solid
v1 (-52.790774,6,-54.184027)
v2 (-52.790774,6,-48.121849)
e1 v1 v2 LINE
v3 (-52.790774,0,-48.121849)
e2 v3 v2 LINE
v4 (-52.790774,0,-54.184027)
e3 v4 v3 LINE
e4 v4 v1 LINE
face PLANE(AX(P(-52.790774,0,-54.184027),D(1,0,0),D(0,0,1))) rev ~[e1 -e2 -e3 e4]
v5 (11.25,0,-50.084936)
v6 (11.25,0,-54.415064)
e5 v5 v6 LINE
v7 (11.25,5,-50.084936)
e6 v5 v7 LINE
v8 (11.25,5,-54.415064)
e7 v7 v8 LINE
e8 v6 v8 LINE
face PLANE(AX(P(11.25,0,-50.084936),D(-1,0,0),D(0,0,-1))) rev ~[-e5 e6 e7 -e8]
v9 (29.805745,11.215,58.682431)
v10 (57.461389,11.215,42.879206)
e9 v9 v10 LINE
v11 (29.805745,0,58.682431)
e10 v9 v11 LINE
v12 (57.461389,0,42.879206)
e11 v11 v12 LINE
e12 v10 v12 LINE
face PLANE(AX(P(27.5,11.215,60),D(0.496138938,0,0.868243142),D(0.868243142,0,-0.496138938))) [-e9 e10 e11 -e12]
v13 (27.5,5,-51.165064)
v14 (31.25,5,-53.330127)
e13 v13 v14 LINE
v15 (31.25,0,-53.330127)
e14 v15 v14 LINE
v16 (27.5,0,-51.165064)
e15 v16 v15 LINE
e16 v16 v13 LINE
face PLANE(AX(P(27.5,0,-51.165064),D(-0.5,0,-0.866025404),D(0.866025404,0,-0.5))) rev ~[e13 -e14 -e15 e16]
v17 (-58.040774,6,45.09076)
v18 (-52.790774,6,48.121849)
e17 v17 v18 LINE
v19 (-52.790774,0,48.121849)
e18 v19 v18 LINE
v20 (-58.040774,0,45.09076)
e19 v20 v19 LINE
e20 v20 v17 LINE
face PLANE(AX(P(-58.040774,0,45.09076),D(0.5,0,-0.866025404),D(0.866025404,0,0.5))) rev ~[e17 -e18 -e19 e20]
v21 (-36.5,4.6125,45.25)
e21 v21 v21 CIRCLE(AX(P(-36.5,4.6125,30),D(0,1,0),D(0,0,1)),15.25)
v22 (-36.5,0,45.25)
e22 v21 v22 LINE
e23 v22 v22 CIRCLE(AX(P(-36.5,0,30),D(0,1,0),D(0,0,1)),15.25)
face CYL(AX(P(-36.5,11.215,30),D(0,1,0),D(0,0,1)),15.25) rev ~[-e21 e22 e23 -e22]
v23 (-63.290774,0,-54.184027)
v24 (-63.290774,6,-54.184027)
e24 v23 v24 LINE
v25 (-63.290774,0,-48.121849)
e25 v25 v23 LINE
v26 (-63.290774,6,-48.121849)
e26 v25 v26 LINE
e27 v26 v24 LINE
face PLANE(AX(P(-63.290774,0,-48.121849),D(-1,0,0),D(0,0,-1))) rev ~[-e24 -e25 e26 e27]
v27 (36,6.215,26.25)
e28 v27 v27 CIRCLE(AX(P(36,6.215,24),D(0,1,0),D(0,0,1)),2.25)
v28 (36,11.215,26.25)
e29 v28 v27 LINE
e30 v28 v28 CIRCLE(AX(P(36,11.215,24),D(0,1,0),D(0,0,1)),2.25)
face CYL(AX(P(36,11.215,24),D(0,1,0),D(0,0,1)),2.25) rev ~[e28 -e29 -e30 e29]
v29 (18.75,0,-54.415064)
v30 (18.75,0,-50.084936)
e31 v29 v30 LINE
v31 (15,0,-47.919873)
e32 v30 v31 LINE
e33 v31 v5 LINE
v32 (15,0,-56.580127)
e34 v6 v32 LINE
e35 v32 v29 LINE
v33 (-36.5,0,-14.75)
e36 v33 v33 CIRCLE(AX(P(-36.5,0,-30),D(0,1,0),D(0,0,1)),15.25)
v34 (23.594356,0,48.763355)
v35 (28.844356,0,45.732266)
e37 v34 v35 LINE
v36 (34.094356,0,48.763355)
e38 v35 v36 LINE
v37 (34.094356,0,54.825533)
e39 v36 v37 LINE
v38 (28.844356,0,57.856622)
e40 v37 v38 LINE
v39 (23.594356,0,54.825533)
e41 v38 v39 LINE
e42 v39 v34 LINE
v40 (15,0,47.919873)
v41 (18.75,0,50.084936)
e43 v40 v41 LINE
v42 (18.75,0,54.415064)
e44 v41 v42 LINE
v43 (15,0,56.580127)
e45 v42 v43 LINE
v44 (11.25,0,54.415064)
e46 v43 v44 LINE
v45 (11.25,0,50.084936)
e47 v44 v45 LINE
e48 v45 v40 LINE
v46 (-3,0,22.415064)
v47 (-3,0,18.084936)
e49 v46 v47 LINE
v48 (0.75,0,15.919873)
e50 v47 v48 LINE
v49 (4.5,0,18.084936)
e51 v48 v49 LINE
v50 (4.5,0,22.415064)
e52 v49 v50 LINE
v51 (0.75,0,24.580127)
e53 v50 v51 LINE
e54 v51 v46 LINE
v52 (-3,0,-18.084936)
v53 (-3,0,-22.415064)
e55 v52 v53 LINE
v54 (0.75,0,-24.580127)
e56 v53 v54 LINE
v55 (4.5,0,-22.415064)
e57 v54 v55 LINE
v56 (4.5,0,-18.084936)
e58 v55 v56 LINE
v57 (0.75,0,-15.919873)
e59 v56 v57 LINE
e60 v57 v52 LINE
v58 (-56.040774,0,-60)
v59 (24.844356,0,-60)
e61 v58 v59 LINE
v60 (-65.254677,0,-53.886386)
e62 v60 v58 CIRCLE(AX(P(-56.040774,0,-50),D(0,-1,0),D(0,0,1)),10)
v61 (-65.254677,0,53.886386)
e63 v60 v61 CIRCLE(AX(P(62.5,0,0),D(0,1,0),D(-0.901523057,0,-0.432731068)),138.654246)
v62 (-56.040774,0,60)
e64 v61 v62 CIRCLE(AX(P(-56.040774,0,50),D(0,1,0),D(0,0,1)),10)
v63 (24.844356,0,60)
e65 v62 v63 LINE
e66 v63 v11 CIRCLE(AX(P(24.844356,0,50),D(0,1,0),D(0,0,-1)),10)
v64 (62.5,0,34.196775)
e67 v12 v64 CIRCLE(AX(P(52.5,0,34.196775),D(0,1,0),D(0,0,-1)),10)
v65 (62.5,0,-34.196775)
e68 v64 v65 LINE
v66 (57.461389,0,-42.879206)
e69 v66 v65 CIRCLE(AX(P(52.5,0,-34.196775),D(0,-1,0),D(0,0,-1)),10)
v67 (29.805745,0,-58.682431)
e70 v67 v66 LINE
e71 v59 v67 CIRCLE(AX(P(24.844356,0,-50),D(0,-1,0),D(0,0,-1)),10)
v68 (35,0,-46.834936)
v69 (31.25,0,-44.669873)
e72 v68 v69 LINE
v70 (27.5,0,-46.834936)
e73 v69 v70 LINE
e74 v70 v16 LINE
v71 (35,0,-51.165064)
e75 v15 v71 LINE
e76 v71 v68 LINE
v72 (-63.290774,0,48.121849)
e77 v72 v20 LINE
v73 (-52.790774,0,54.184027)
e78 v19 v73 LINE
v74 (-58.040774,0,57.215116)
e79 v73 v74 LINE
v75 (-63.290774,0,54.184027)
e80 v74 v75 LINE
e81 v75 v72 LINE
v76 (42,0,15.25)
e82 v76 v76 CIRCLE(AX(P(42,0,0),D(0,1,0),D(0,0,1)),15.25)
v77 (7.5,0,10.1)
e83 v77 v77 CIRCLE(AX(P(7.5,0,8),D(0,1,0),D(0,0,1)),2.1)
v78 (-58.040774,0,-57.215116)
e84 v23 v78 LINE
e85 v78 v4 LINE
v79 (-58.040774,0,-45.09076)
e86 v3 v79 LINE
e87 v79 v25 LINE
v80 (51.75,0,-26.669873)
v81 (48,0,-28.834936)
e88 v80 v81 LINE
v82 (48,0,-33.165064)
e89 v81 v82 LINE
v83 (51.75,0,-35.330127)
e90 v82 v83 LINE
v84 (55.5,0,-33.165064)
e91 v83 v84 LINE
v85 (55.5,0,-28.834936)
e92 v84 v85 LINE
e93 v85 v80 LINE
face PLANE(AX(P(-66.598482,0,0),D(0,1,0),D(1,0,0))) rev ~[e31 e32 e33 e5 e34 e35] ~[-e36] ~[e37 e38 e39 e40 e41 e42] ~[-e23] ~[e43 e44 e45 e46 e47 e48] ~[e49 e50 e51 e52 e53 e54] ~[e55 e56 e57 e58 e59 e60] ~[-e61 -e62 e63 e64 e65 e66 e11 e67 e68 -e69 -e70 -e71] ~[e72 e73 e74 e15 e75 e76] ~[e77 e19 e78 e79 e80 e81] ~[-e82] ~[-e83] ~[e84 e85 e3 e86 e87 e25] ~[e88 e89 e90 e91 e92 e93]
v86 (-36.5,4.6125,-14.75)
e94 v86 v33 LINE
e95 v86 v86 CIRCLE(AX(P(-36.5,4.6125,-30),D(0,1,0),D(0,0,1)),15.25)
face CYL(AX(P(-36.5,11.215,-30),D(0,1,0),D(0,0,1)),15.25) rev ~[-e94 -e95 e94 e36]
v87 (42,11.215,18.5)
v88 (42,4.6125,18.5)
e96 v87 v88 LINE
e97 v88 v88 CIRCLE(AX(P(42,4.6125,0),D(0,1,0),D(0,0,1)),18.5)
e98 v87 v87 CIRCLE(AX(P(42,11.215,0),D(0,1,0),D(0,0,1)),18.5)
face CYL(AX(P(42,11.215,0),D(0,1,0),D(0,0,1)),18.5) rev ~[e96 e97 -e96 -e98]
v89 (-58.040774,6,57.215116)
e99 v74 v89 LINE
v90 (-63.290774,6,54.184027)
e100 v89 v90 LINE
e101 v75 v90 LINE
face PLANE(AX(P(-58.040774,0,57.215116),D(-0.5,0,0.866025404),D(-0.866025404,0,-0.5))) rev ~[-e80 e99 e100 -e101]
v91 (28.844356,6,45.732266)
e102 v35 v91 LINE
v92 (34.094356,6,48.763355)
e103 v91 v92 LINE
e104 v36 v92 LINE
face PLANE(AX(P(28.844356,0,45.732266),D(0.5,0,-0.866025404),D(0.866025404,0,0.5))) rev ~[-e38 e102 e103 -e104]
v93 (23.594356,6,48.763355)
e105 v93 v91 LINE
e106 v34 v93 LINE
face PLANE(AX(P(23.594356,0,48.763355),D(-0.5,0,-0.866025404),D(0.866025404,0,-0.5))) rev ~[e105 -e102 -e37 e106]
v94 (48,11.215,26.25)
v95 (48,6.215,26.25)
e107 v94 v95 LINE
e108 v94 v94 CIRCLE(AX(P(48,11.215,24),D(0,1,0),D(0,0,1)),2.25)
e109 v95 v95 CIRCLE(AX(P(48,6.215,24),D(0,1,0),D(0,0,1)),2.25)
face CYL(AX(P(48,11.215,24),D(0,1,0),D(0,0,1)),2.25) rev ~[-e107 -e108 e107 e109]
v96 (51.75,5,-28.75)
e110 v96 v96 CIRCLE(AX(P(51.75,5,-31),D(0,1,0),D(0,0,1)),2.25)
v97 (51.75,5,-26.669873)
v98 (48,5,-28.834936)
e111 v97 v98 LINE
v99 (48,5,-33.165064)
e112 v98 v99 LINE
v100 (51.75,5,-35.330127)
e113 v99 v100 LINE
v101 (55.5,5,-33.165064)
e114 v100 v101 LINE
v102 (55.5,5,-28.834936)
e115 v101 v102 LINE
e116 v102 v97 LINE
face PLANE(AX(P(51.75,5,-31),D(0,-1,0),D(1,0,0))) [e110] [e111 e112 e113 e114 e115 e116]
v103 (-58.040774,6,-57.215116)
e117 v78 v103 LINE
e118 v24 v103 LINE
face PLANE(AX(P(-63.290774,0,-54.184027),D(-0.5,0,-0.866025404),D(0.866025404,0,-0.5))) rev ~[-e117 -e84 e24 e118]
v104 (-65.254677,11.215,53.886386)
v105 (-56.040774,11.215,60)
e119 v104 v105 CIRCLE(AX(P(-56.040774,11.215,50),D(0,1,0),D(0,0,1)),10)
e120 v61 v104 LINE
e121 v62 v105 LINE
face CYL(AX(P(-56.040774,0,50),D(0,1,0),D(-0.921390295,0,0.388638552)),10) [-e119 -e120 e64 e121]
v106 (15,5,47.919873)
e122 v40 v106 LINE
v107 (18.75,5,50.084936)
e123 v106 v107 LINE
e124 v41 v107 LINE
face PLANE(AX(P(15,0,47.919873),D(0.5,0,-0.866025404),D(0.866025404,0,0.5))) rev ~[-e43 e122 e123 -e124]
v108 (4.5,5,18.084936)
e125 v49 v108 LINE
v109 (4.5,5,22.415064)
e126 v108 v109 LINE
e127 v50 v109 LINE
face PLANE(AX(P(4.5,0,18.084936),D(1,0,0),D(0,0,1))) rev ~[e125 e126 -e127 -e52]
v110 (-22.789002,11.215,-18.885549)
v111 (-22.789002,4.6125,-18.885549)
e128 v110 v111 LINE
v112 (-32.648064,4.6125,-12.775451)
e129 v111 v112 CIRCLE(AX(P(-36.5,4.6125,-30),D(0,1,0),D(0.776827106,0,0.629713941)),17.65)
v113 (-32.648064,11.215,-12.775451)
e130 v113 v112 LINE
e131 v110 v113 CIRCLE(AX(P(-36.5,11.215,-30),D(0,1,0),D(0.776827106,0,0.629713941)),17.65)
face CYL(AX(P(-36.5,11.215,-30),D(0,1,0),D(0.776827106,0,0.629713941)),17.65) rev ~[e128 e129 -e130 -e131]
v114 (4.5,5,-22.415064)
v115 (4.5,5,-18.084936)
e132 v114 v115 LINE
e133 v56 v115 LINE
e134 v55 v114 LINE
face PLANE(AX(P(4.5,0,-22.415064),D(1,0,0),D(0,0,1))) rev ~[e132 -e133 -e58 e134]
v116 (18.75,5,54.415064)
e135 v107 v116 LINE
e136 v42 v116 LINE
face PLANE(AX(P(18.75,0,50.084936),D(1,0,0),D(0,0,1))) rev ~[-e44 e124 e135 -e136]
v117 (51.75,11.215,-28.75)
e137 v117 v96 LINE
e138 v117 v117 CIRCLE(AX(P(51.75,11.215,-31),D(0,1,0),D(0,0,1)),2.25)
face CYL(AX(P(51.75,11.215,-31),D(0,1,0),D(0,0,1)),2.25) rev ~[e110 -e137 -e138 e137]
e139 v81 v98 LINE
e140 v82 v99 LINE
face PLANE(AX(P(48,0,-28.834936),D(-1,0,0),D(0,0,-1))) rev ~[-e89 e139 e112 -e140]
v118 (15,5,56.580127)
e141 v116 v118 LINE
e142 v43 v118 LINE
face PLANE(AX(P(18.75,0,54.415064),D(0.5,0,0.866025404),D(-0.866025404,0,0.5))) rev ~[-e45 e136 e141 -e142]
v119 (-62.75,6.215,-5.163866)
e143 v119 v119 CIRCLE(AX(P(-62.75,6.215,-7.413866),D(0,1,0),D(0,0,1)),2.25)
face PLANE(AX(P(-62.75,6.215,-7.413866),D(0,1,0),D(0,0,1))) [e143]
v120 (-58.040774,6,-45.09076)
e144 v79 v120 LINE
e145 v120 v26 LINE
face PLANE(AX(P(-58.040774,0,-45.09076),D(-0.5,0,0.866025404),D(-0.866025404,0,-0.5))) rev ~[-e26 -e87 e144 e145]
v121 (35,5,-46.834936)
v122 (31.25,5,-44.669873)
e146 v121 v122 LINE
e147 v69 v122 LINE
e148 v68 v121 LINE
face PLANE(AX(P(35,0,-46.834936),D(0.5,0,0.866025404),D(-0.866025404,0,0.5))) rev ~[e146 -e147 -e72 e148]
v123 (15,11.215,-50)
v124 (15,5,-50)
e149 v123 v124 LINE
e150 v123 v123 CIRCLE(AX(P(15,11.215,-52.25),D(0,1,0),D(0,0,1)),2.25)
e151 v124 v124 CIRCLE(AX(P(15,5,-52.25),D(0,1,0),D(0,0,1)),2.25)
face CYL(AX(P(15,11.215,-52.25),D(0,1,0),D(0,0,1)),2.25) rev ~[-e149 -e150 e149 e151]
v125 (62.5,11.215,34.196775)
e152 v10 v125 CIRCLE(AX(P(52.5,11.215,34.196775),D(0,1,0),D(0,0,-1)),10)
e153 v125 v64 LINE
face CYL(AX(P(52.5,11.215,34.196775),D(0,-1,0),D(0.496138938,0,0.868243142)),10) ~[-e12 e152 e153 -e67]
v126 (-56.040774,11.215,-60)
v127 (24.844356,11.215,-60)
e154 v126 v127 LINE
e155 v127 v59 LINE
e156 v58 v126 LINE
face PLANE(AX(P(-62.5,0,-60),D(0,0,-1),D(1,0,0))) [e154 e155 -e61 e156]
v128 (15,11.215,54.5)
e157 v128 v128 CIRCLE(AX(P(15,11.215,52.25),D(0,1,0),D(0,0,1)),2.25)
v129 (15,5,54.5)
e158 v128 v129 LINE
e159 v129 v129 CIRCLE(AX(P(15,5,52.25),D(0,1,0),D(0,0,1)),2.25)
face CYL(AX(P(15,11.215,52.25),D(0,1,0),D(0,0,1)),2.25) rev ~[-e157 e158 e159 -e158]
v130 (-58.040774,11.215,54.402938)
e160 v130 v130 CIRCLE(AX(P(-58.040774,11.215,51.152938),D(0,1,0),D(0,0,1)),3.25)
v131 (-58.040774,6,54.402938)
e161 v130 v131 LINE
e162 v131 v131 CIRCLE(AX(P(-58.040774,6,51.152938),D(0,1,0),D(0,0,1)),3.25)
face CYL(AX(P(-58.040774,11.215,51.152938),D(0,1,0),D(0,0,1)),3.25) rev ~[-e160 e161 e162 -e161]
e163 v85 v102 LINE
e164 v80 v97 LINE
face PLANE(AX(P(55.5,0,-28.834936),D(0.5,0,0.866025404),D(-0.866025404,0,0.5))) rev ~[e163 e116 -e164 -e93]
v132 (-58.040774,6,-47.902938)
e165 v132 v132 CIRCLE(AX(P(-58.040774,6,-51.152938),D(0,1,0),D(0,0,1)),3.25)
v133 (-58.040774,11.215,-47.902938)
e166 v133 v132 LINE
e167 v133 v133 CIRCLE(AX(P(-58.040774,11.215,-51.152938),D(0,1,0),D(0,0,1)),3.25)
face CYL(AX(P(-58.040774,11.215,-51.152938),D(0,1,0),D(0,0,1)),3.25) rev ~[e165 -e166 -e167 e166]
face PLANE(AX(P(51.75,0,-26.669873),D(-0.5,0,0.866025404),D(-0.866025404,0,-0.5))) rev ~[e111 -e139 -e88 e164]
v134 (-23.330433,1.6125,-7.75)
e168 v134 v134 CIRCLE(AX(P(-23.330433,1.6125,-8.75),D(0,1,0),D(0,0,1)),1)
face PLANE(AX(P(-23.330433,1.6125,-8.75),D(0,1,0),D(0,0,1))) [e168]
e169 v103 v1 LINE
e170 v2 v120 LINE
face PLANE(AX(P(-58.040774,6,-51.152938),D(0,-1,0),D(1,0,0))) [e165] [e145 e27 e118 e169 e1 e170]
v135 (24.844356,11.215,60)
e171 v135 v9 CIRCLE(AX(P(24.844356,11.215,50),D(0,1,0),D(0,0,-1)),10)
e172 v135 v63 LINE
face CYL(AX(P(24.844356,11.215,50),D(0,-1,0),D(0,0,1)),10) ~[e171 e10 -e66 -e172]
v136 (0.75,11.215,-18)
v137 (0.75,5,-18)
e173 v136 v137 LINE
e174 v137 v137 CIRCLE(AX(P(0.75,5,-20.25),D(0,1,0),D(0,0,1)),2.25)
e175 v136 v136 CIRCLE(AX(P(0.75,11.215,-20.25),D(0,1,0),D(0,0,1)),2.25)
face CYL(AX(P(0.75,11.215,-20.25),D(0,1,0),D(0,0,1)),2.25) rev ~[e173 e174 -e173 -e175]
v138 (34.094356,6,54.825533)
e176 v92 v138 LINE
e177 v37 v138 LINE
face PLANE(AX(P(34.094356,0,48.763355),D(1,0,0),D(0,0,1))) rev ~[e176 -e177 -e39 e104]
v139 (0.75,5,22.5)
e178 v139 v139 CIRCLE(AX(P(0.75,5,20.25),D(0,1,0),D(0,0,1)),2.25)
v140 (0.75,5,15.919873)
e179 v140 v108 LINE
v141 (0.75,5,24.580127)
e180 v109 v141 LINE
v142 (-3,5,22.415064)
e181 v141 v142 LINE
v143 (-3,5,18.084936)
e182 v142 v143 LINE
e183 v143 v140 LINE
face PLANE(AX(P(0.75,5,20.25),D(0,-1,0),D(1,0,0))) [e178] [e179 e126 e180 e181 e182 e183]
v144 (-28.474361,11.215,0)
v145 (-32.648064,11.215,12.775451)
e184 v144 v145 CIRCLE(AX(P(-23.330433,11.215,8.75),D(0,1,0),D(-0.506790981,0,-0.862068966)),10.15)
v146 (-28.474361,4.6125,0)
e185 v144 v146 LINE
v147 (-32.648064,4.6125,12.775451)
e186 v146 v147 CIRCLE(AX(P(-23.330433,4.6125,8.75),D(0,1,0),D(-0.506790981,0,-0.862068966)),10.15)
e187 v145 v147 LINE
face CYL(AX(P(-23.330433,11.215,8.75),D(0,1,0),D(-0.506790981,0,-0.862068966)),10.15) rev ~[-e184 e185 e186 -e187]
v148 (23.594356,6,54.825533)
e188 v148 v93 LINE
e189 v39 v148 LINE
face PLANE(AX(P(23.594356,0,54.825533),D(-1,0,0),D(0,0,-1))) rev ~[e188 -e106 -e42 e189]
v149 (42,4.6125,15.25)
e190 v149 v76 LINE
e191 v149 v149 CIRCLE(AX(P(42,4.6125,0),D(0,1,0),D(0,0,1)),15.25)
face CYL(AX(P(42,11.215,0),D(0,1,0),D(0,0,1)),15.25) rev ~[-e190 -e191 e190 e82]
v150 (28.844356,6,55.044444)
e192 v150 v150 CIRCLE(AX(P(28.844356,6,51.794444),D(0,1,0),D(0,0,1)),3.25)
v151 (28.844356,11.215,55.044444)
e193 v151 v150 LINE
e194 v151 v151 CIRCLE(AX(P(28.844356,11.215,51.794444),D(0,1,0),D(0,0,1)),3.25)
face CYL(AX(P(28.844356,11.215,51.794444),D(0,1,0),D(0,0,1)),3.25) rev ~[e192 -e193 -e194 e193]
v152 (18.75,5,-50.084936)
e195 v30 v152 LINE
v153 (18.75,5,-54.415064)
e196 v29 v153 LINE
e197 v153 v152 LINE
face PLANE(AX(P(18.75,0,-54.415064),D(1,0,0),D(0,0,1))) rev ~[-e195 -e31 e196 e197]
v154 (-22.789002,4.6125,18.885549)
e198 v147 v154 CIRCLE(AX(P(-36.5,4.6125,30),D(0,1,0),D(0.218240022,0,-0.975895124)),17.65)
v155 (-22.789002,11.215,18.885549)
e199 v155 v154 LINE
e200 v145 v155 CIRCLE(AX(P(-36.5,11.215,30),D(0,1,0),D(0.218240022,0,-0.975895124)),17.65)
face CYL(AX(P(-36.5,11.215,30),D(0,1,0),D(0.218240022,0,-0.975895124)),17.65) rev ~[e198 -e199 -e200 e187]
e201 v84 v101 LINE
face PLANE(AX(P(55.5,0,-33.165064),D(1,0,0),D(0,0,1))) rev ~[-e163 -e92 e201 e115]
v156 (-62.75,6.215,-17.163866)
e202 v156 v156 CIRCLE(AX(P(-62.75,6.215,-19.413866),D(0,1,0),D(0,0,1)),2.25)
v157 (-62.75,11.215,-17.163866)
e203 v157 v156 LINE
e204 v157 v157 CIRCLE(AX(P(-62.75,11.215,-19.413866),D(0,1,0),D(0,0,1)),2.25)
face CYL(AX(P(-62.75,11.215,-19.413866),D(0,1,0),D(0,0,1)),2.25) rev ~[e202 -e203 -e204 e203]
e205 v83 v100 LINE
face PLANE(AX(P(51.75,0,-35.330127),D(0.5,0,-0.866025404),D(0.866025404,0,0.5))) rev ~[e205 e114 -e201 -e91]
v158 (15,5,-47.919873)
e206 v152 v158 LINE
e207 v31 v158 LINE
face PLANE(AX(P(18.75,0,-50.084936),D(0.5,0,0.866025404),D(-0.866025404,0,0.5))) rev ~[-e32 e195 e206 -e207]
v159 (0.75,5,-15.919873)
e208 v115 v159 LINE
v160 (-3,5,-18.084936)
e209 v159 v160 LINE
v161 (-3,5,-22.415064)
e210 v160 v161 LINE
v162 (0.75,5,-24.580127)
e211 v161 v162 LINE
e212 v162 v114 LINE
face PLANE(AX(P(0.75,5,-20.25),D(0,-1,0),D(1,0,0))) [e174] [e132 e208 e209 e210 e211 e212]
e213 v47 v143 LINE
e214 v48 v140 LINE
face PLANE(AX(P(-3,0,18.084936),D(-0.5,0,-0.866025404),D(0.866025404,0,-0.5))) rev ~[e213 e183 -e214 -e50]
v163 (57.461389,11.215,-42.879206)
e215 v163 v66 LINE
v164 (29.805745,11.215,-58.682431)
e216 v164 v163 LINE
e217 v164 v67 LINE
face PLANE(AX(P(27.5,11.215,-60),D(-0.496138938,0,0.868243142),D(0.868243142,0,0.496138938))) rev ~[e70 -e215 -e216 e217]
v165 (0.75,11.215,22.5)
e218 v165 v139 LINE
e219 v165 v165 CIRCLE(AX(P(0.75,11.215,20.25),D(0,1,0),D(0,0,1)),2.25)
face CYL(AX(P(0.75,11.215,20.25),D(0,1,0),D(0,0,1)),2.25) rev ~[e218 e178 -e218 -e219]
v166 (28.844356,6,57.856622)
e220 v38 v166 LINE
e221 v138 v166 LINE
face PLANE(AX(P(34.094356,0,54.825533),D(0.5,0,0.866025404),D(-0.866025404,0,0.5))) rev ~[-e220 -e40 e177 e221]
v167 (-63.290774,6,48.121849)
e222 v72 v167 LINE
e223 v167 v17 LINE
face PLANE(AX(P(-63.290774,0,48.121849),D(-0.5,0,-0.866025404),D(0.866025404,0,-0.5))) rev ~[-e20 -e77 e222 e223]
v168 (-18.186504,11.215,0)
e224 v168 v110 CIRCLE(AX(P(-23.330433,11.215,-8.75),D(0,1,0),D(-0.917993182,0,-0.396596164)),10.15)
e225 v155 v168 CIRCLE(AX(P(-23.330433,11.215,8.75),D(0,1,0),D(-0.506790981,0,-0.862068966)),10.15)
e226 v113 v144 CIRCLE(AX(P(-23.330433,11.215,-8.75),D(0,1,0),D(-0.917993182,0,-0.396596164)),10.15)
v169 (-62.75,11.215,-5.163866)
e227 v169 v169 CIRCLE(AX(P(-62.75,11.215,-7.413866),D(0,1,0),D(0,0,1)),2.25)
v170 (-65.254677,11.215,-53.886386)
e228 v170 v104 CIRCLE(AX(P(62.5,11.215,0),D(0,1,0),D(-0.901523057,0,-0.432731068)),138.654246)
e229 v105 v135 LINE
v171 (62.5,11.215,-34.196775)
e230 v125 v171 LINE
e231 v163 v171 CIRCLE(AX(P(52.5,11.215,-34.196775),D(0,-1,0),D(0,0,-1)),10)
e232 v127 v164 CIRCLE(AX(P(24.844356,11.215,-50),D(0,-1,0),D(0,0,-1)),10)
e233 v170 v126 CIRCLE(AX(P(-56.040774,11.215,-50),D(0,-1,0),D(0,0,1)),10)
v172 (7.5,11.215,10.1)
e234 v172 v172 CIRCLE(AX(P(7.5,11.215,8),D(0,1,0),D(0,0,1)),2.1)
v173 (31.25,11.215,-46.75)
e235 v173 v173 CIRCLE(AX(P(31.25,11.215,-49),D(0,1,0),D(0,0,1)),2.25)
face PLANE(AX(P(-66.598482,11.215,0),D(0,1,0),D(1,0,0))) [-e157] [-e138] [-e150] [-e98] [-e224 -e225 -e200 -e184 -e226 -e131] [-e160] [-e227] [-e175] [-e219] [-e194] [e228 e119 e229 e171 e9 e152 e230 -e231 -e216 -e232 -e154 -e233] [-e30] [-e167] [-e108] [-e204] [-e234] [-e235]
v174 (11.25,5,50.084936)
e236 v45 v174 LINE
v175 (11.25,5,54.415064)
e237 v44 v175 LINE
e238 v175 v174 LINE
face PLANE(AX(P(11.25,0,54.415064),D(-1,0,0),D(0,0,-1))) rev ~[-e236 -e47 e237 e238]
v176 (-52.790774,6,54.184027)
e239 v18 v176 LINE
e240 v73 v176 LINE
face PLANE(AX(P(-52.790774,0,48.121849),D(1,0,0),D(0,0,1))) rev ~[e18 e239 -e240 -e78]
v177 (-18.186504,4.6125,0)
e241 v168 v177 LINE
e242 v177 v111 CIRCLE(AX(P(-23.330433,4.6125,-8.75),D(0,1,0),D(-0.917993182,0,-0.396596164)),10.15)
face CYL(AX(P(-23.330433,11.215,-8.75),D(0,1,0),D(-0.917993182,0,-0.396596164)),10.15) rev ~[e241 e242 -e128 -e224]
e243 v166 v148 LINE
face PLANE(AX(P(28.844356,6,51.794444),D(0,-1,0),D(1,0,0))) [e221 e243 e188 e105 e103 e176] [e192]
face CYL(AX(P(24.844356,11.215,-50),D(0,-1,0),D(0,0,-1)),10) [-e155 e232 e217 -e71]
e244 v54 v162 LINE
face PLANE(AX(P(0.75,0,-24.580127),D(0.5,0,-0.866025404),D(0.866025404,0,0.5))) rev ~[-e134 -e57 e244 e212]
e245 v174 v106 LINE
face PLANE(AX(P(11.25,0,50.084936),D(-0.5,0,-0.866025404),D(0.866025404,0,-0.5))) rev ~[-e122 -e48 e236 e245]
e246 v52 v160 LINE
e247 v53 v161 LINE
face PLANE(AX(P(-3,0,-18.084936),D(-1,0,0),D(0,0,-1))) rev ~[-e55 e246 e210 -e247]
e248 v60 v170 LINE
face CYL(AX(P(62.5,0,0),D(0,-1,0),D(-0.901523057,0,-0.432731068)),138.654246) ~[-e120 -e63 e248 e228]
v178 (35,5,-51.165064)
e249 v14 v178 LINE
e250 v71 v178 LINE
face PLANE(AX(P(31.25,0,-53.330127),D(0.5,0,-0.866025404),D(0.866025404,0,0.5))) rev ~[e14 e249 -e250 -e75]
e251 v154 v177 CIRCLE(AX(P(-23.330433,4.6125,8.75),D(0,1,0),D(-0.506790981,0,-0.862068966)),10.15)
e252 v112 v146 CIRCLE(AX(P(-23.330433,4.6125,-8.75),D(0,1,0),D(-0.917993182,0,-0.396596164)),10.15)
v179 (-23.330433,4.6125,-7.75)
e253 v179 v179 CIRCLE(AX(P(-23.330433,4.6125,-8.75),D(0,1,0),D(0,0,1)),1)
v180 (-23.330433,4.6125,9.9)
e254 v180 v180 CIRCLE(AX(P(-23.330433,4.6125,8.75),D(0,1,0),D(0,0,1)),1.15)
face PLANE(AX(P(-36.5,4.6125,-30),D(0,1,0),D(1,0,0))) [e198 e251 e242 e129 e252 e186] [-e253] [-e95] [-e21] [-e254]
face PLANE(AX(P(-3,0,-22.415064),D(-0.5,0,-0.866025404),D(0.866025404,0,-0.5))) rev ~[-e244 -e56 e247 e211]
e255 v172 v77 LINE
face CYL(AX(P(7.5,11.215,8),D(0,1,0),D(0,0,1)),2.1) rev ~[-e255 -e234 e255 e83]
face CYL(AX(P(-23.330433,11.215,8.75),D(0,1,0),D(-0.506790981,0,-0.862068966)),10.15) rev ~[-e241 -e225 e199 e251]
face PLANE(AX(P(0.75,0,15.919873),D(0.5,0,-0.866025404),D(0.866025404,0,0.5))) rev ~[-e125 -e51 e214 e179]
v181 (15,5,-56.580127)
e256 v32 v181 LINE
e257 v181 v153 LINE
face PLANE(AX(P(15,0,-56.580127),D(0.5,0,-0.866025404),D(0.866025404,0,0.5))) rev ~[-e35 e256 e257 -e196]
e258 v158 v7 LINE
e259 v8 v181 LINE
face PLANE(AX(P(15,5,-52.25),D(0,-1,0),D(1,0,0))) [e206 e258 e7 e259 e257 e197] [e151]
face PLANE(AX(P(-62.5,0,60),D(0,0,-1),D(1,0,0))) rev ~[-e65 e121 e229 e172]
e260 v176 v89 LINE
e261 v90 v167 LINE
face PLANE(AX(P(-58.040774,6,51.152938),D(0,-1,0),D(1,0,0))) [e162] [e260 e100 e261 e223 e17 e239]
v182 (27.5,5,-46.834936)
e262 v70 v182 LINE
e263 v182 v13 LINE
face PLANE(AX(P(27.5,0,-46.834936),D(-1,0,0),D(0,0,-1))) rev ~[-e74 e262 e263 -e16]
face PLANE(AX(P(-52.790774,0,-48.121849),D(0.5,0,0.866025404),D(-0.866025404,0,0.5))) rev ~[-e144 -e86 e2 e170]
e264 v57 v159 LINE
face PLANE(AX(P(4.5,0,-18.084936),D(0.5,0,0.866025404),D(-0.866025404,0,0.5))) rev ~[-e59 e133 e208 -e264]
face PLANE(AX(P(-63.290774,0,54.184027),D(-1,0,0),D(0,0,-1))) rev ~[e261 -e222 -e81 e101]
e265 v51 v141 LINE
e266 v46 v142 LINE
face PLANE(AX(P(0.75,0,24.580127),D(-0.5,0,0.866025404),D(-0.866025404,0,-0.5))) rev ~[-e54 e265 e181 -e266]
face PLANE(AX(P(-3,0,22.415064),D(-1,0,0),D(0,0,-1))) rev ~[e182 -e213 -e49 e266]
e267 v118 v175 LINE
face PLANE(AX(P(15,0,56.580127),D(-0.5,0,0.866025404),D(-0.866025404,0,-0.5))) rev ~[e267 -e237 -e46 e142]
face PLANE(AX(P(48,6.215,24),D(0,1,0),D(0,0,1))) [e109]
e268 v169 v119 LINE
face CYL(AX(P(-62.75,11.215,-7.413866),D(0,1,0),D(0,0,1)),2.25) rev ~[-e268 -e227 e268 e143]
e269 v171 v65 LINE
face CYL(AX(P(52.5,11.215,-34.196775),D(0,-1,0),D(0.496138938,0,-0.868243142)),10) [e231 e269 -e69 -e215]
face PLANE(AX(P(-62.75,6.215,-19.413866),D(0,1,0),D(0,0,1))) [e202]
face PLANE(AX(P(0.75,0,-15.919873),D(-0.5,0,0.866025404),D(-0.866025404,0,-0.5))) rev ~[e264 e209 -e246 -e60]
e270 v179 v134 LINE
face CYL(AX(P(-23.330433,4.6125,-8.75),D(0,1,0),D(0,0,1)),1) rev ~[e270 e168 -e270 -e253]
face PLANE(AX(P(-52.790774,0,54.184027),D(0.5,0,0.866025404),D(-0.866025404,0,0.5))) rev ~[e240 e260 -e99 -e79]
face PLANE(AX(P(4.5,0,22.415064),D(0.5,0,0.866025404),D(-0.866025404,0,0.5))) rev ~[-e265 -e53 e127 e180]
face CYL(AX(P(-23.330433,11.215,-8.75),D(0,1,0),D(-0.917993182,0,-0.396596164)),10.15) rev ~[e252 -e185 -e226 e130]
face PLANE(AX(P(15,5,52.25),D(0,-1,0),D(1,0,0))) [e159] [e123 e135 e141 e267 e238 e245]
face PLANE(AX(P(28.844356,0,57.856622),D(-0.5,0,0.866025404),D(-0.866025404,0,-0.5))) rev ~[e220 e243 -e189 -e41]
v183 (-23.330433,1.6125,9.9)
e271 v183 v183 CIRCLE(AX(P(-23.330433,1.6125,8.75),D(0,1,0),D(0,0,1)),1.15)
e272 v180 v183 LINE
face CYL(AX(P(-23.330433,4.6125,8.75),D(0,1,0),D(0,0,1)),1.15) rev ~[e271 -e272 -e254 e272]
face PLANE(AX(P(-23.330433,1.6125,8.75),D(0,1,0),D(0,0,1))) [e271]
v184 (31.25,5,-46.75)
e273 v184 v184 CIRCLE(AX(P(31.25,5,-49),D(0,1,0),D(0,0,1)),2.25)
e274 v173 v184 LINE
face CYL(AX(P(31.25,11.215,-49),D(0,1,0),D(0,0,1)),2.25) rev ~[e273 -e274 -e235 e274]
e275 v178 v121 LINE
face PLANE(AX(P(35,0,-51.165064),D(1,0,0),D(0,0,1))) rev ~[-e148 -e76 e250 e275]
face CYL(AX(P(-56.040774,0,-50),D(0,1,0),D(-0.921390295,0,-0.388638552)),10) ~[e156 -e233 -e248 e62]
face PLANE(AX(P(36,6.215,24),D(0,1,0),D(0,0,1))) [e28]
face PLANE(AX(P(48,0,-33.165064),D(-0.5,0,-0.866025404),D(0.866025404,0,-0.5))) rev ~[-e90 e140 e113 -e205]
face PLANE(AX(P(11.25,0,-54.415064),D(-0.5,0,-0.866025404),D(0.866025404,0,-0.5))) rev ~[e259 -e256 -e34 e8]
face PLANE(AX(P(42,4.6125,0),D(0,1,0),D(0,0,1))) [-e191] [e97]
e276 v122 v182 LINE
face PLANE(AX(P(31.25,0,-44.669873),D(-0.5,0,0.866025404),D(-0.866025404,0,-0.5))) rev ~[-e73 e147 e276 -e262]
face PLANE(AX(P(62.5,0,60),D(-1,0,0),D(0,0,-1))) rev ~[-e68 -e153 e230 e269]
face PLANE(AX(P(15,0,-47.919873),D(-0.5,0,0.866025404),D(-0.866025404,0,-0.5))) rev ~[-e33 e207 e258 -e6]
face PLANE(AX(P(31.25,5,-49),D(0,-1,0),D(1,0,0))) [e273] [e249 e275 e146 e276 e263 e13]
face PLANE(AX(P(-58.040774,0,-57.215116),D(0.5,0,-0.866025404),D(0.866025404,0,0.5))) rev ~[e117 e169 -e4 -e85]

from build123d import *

# Parameters (mm, degrees)
SKETCH1_W                        = 125
SKETCH1_H                        = 120
TEST_BASE_POSTION_DEPTH          = 11.215
SKETCH10_R                       = 15.25
CONNECT_FINGER_HOLES_DEPTH       = 98.597363925
SKETCH11_R                       = 18.5
XL320_FINGER_KNUCKLE_MOUNT_DEPTH = 6.6025
SKETCH24_R                       = 2.25
AX12_MOUNT_HOLES_M4_DEPTH        = 98.597363925
SKETCH21_R                       = 17.65
SKETCH21_R_2                     = 10.15
GEARS_HOLES_DEPTH                = 6.6025
SKETCH22_R                       = 1.15
GEARS_ROD_HOLES_DEPTH            = 3
CUT_EXTRUDE1_DEPTH               = 98.597363925
FILLET1_R                        = 10
SKETCH17_R                       = 3.25
CONNECT_HOLES_M6_DEPTH           = 98.597363925
NUTS_M6_DEPTH                    = 6
NUTS_M4_DEPTH                    = 5
SKETCH30_R                       = 2.1
CONNECT_TO_HOUSE_DEPTH           = 98.597363925
SKETCH31_R                       = 2.25
M4_EXTENSION_HOLE_DEPTH          = 5
SKETCH28_R                       = 1
M2_SHAFT_HOLE_DEPTH              = 3


with BuildPart() as part:
    # Sketch1 → Test_Base_Postion (new body)
    with BuildSketch(Plane(origin=(0, 0, 0), x_dir=(1, 0, 0), z_dir=(0, 1, 0))):
        with BuildLine():
            ThreePointArc((-62.5, 60), (-76.154246239, 0), (-62.5, -60))
            Line((-62.5, -60), (-62.5, 60))
        make_face()
        Rectangle(SKETCH1_W, SKETCH1_H)
    extrude(amount=TEST_BASE_POSTION_DEPTH)

    # Sketch10 → Connect_Finger_Holes (cut, through all)
    with BuildSketch(Plane(origin=(0, 11.215, 0), x_dir=(1, 0, 0), z_dir=(0, 1, 0))):
        with Locations(Location((-36.5, 30, 0), (0, 0, 270))):
            Circle(SKETCH10_R)
        with Locations(Location((-36.5, -30, 0), (0, 0, 270))):
            Circle(SKETCH10_R)
        with Locations(Location((42, 0, 0), (0, 0, 270))):
            Circle(SKETCH10_R)
    extrude(amount=-CONNECT_FINGER_HOLES_DEPTH, mode=Mode.SUBTRACT)

    # Sketch11 → XL320_Finger_Knuckle_Mount (cut)
    with BuildSketch(Plane(origin=(0, 11.215, 0), x_dir=(1, 0, 0), z_dir=(0, 1, 0))):
        with Locations(Location((42, 0, 0), (0, 0, 270))):
            Circle(SKETCH11_R)
    extrude(amount=-XL320_FINGER_KNUCKLE_MOUNT_DEPTH, mode=Mode.SUBTRACT)

    # Sketch24 → AX12_Mount_Holes_(M4) (cut, through all)
    with BuildSketch(Plane(origin=(0, 11.215, 0), x_dir=(1, 0, 0), z_dir=(0, 1, 0))):
        with Locations(Location((15, 52.25, 0), (0, 0, 270))):
            Circle(SKETCH24_R)
        with Locations(Location((0.75, 20.25, 0), (0, 0, 270))):
            Circle(SKETCH24_R)
        with Locations(Location((0.75, -20.25, 0), (0, 0, 270))):
            Circle(SKETCH24_R)
        with Locations(Location((15, -52.25, 0), (0, 0, 270))):
            Circle(SKETCH24_R)
        with Locations(Location((51.75, 31, 0), (0, 0, 270))):
            Circle(SKETCH24_R)
        with Locations(Location((31.25, 49, 0), (0, 0, 270))):
            Circle(SKETCH24_R)
    extrude(amount=-AX12_MOUNT_HOLES_M4_DEPTH, mode=Mode.SUBTRACT)

    # Sketch21 → Gears_Holes (cut)
    with BuildSketch(Plane(origin=(0, 11.215, 0), x_dir=(1, 0, 0), z_dir=(0, 1, 0))):
        with Locations((-36.5, 30)):
            Circle(SKETCH21_R)
        with Locations((-23.330432809, 8.75)):
            Circle(SKETCH21_R_2)
        with Locations((-23.330432809, -8.75)):
            Circle(SKETCH21_R_2)
        with Locations((-36.5, -30)):
            Circle(SKETCH21_R)
    extrude(amount=-GEARS_HOLES_DEPTH, mode=Mode.SUBTRACT)

    # Sketch22 → Gears_Rod_Holes (cut)
    with BuildSketch(Plane(origin=(0, 4.6125, 0), x_dir=(1, 0, 0), z_dir=(0, 1, 0))):
        with Locations(Location((-23.330432809, -8.75, 0), (0, 0, 270))):
            Circle(SKETCH22_R)
    extrude(amount=-GEARS_ROD_HOLES_DEPTH, mode=Mode.SUBTRACT)

    # Sketch29 → Cut-Extrude1 (cut, through all)
    with BuildSketch(Plane(origin=(0, 11.215, 0), x_dir=(1, 0, 0), z_dir=(0, 1, 0))):
        Polygon((27.5, 60), (62.5, 40), (62.5, 60), align=None)
        Polygon((62.5, -60), (27.5, -60), (62.5, -40), align=None)
    extrude(amount=-CUT_EXTRUDE1_DEPTH, mode=Mode.SUBTRACT)

    # Fillet1
    fillet1_edges = [part.edges().sort_by_distance(p)[0] for p in [
        (27.5, 5.6075, -60),
        (62.5, 5.6075, -40),
        (62.5, 5.6075, 40),
        (27.5, 5.6075, 60),
        (-62.5, 5.6075, -60),
        (-62.5, 5.6075, 60),
    ]]
    fillet(fillet1_edges, radius=FILLET1_R)

    # Sketch17 → Connect_Holes_(M6) (cut, through all)
    with BuildSketch(Plane(origin=(0, 11.215, 0), x_dir=(1, 0, 0), z_dir=(0, 1, 0))):
        with Locations(Location((-58.040773893, 51.152938298, 0), (0, 0, 270))):
            Circle(SKETCH17_R)
        with Locations(Location((-58.040773893, -51.152938298, 0), (0, 0, 270))):
            Circle(SKETCH17_R)
        with Locations(Location((28.844355629, -51.794444289, 0), (0, 0, 270))):
            Circle(SKETCH17_R)
    extrude(amount=-CONNECT_HOLES_M6_DEPTH, mode=Mode.SUBTRACT)

    # Sketch19 → Nuts_(M6) (cut)
    with BuildSketch(Plane.XZ):
        Polygon((-58.040773893, 57.215116125), (-63.290773893, 54.184027211), (-63.290773893, 48.121849385), (-58.040773893, 45.090760472), (-52.790773893, 48.121849385), (-52.790773893, 54.184027211), align=None)
        Polygon((28.844355629, 45.732266462), (34.094355629, 48.763355375), (34.094355629, 54.825533202), (28.844355629, 57.856622115), (23.594355629, 54.825533202), (23.594355629, 48.763355375), align=None)
        Polygon((-63.290773893, -48.121849385), (-63.290773893, -54.184027211), (-58.040773893, -57.215116125), (-52.790773893, -54.184027211), (-52.790773893, -48.121849385), (-58.040773893, -45.090760472), align=None)
    extrude(amount=-NUTS_M6_DEPTH, mode=Mode.SUBTRACT)

    # Sketch27 → Nuts_(M4) (cut)
    with BuildSketch(Plane.XZ):
        Polygon((15, 56.580127019), (11.25, 54.415063509), (11.25, 50.084936491), (15, 47.919872981), (18.75, 50.084936491), (18.75, 54.415063509), align=None)
        Polygon((-3, 22.415063509), (-3, 18.084936491), (0.75, 15.919872981), (4.5, 18.084936491), (4.5, 22.415063509), (0.75, 24.580127019), align=None)
        Polygon((-3, -22.415063509), (0.75, -24.580127019), (4.5, -22.415063509), (4.5, -18.084936491), (0.75, -15.919872981), (-3, -18.084936491), align=None)
        Polygon((11.25, -50.084936491), (11.25, -54.415063509), (15, -56.580127019), (18.75, -54.415063509), (18.75, -50.084936491), (15, -47.919872981), align=None)
        Polygon((55.5, -28.834936491), (51.75, -26.669872981), (48, -28.834936491), (48, -33.165063509), (51.75, -35.330127019), (55.5, -33.165063509), align=None)
        Polygon((27.5, -46.834936491), (27.5, -51.165063509), (31.25, -53.330127019), (35, -51.165063509), (35, -46.834936491), (31.25, -44.669872981), align=None)
    extrude(amount=-NUTS_M4_DEPTH, mode=Mode.SUBTRACT)

    # Sketch30 → Connect_To_House (cut, through all)
    with BuildSketch(Plane(origin=(0, 11.215, 0), x_dir=(1, 0, 0), z_dir=(0, 1, 0))):
        with Locations(Location((7.5, -8, 0), (0, 0, 270))):
            Circle(SKETCH30_R)
    extrude(amount=-CONNECT_TO_HOUSE_DEPTH, mode=Mode.SUBTRACT)

    # Sketch31 → M4_Extension_Hole (cut)
    with BuildSketch(Plane(origin=(0, 11.215, 0), x_dir=(1, 0, 0), z_dir=(0, 1, 0))):
        with Locations(Location((-62.75, 19.41386581, 0), (0, 0, 270))):
            Circle(SKETCH31_R)
        with Locations(Location((-62.75, 7.41386581, 0), (0, 0, 270))):
            Circle(SKETCH31_R)
        with Locations(Location((36, -24, 0), (0, 0, 270))):
            Circle(SKETCH31_R)
        with Locations(Location((48, -24, 0), (0, 0, 270))):
            Circle(SKETCH31_R)
    extrude(amount=-M4_EXTENSION_HOLE_DEPTH, mode=Mode.SUBTRACT)

    # Sketch28 → M2_Shaft_Hole (cut)
    with BuildSketch(Plane(origin=(0, 4.6125, 0), x_dir=(1, 0, 0), z_dir=(0, 1, 0))):
        with Locations(Location((-23.330432809, 8.75, 0), (0, 0, 270))):
            Circle(SKETCH28_R)
    extrude(amount=-M2_SHAFT_HOLE_DEPTH, mode=Mode.SUBTRACT)


solid = part.part
